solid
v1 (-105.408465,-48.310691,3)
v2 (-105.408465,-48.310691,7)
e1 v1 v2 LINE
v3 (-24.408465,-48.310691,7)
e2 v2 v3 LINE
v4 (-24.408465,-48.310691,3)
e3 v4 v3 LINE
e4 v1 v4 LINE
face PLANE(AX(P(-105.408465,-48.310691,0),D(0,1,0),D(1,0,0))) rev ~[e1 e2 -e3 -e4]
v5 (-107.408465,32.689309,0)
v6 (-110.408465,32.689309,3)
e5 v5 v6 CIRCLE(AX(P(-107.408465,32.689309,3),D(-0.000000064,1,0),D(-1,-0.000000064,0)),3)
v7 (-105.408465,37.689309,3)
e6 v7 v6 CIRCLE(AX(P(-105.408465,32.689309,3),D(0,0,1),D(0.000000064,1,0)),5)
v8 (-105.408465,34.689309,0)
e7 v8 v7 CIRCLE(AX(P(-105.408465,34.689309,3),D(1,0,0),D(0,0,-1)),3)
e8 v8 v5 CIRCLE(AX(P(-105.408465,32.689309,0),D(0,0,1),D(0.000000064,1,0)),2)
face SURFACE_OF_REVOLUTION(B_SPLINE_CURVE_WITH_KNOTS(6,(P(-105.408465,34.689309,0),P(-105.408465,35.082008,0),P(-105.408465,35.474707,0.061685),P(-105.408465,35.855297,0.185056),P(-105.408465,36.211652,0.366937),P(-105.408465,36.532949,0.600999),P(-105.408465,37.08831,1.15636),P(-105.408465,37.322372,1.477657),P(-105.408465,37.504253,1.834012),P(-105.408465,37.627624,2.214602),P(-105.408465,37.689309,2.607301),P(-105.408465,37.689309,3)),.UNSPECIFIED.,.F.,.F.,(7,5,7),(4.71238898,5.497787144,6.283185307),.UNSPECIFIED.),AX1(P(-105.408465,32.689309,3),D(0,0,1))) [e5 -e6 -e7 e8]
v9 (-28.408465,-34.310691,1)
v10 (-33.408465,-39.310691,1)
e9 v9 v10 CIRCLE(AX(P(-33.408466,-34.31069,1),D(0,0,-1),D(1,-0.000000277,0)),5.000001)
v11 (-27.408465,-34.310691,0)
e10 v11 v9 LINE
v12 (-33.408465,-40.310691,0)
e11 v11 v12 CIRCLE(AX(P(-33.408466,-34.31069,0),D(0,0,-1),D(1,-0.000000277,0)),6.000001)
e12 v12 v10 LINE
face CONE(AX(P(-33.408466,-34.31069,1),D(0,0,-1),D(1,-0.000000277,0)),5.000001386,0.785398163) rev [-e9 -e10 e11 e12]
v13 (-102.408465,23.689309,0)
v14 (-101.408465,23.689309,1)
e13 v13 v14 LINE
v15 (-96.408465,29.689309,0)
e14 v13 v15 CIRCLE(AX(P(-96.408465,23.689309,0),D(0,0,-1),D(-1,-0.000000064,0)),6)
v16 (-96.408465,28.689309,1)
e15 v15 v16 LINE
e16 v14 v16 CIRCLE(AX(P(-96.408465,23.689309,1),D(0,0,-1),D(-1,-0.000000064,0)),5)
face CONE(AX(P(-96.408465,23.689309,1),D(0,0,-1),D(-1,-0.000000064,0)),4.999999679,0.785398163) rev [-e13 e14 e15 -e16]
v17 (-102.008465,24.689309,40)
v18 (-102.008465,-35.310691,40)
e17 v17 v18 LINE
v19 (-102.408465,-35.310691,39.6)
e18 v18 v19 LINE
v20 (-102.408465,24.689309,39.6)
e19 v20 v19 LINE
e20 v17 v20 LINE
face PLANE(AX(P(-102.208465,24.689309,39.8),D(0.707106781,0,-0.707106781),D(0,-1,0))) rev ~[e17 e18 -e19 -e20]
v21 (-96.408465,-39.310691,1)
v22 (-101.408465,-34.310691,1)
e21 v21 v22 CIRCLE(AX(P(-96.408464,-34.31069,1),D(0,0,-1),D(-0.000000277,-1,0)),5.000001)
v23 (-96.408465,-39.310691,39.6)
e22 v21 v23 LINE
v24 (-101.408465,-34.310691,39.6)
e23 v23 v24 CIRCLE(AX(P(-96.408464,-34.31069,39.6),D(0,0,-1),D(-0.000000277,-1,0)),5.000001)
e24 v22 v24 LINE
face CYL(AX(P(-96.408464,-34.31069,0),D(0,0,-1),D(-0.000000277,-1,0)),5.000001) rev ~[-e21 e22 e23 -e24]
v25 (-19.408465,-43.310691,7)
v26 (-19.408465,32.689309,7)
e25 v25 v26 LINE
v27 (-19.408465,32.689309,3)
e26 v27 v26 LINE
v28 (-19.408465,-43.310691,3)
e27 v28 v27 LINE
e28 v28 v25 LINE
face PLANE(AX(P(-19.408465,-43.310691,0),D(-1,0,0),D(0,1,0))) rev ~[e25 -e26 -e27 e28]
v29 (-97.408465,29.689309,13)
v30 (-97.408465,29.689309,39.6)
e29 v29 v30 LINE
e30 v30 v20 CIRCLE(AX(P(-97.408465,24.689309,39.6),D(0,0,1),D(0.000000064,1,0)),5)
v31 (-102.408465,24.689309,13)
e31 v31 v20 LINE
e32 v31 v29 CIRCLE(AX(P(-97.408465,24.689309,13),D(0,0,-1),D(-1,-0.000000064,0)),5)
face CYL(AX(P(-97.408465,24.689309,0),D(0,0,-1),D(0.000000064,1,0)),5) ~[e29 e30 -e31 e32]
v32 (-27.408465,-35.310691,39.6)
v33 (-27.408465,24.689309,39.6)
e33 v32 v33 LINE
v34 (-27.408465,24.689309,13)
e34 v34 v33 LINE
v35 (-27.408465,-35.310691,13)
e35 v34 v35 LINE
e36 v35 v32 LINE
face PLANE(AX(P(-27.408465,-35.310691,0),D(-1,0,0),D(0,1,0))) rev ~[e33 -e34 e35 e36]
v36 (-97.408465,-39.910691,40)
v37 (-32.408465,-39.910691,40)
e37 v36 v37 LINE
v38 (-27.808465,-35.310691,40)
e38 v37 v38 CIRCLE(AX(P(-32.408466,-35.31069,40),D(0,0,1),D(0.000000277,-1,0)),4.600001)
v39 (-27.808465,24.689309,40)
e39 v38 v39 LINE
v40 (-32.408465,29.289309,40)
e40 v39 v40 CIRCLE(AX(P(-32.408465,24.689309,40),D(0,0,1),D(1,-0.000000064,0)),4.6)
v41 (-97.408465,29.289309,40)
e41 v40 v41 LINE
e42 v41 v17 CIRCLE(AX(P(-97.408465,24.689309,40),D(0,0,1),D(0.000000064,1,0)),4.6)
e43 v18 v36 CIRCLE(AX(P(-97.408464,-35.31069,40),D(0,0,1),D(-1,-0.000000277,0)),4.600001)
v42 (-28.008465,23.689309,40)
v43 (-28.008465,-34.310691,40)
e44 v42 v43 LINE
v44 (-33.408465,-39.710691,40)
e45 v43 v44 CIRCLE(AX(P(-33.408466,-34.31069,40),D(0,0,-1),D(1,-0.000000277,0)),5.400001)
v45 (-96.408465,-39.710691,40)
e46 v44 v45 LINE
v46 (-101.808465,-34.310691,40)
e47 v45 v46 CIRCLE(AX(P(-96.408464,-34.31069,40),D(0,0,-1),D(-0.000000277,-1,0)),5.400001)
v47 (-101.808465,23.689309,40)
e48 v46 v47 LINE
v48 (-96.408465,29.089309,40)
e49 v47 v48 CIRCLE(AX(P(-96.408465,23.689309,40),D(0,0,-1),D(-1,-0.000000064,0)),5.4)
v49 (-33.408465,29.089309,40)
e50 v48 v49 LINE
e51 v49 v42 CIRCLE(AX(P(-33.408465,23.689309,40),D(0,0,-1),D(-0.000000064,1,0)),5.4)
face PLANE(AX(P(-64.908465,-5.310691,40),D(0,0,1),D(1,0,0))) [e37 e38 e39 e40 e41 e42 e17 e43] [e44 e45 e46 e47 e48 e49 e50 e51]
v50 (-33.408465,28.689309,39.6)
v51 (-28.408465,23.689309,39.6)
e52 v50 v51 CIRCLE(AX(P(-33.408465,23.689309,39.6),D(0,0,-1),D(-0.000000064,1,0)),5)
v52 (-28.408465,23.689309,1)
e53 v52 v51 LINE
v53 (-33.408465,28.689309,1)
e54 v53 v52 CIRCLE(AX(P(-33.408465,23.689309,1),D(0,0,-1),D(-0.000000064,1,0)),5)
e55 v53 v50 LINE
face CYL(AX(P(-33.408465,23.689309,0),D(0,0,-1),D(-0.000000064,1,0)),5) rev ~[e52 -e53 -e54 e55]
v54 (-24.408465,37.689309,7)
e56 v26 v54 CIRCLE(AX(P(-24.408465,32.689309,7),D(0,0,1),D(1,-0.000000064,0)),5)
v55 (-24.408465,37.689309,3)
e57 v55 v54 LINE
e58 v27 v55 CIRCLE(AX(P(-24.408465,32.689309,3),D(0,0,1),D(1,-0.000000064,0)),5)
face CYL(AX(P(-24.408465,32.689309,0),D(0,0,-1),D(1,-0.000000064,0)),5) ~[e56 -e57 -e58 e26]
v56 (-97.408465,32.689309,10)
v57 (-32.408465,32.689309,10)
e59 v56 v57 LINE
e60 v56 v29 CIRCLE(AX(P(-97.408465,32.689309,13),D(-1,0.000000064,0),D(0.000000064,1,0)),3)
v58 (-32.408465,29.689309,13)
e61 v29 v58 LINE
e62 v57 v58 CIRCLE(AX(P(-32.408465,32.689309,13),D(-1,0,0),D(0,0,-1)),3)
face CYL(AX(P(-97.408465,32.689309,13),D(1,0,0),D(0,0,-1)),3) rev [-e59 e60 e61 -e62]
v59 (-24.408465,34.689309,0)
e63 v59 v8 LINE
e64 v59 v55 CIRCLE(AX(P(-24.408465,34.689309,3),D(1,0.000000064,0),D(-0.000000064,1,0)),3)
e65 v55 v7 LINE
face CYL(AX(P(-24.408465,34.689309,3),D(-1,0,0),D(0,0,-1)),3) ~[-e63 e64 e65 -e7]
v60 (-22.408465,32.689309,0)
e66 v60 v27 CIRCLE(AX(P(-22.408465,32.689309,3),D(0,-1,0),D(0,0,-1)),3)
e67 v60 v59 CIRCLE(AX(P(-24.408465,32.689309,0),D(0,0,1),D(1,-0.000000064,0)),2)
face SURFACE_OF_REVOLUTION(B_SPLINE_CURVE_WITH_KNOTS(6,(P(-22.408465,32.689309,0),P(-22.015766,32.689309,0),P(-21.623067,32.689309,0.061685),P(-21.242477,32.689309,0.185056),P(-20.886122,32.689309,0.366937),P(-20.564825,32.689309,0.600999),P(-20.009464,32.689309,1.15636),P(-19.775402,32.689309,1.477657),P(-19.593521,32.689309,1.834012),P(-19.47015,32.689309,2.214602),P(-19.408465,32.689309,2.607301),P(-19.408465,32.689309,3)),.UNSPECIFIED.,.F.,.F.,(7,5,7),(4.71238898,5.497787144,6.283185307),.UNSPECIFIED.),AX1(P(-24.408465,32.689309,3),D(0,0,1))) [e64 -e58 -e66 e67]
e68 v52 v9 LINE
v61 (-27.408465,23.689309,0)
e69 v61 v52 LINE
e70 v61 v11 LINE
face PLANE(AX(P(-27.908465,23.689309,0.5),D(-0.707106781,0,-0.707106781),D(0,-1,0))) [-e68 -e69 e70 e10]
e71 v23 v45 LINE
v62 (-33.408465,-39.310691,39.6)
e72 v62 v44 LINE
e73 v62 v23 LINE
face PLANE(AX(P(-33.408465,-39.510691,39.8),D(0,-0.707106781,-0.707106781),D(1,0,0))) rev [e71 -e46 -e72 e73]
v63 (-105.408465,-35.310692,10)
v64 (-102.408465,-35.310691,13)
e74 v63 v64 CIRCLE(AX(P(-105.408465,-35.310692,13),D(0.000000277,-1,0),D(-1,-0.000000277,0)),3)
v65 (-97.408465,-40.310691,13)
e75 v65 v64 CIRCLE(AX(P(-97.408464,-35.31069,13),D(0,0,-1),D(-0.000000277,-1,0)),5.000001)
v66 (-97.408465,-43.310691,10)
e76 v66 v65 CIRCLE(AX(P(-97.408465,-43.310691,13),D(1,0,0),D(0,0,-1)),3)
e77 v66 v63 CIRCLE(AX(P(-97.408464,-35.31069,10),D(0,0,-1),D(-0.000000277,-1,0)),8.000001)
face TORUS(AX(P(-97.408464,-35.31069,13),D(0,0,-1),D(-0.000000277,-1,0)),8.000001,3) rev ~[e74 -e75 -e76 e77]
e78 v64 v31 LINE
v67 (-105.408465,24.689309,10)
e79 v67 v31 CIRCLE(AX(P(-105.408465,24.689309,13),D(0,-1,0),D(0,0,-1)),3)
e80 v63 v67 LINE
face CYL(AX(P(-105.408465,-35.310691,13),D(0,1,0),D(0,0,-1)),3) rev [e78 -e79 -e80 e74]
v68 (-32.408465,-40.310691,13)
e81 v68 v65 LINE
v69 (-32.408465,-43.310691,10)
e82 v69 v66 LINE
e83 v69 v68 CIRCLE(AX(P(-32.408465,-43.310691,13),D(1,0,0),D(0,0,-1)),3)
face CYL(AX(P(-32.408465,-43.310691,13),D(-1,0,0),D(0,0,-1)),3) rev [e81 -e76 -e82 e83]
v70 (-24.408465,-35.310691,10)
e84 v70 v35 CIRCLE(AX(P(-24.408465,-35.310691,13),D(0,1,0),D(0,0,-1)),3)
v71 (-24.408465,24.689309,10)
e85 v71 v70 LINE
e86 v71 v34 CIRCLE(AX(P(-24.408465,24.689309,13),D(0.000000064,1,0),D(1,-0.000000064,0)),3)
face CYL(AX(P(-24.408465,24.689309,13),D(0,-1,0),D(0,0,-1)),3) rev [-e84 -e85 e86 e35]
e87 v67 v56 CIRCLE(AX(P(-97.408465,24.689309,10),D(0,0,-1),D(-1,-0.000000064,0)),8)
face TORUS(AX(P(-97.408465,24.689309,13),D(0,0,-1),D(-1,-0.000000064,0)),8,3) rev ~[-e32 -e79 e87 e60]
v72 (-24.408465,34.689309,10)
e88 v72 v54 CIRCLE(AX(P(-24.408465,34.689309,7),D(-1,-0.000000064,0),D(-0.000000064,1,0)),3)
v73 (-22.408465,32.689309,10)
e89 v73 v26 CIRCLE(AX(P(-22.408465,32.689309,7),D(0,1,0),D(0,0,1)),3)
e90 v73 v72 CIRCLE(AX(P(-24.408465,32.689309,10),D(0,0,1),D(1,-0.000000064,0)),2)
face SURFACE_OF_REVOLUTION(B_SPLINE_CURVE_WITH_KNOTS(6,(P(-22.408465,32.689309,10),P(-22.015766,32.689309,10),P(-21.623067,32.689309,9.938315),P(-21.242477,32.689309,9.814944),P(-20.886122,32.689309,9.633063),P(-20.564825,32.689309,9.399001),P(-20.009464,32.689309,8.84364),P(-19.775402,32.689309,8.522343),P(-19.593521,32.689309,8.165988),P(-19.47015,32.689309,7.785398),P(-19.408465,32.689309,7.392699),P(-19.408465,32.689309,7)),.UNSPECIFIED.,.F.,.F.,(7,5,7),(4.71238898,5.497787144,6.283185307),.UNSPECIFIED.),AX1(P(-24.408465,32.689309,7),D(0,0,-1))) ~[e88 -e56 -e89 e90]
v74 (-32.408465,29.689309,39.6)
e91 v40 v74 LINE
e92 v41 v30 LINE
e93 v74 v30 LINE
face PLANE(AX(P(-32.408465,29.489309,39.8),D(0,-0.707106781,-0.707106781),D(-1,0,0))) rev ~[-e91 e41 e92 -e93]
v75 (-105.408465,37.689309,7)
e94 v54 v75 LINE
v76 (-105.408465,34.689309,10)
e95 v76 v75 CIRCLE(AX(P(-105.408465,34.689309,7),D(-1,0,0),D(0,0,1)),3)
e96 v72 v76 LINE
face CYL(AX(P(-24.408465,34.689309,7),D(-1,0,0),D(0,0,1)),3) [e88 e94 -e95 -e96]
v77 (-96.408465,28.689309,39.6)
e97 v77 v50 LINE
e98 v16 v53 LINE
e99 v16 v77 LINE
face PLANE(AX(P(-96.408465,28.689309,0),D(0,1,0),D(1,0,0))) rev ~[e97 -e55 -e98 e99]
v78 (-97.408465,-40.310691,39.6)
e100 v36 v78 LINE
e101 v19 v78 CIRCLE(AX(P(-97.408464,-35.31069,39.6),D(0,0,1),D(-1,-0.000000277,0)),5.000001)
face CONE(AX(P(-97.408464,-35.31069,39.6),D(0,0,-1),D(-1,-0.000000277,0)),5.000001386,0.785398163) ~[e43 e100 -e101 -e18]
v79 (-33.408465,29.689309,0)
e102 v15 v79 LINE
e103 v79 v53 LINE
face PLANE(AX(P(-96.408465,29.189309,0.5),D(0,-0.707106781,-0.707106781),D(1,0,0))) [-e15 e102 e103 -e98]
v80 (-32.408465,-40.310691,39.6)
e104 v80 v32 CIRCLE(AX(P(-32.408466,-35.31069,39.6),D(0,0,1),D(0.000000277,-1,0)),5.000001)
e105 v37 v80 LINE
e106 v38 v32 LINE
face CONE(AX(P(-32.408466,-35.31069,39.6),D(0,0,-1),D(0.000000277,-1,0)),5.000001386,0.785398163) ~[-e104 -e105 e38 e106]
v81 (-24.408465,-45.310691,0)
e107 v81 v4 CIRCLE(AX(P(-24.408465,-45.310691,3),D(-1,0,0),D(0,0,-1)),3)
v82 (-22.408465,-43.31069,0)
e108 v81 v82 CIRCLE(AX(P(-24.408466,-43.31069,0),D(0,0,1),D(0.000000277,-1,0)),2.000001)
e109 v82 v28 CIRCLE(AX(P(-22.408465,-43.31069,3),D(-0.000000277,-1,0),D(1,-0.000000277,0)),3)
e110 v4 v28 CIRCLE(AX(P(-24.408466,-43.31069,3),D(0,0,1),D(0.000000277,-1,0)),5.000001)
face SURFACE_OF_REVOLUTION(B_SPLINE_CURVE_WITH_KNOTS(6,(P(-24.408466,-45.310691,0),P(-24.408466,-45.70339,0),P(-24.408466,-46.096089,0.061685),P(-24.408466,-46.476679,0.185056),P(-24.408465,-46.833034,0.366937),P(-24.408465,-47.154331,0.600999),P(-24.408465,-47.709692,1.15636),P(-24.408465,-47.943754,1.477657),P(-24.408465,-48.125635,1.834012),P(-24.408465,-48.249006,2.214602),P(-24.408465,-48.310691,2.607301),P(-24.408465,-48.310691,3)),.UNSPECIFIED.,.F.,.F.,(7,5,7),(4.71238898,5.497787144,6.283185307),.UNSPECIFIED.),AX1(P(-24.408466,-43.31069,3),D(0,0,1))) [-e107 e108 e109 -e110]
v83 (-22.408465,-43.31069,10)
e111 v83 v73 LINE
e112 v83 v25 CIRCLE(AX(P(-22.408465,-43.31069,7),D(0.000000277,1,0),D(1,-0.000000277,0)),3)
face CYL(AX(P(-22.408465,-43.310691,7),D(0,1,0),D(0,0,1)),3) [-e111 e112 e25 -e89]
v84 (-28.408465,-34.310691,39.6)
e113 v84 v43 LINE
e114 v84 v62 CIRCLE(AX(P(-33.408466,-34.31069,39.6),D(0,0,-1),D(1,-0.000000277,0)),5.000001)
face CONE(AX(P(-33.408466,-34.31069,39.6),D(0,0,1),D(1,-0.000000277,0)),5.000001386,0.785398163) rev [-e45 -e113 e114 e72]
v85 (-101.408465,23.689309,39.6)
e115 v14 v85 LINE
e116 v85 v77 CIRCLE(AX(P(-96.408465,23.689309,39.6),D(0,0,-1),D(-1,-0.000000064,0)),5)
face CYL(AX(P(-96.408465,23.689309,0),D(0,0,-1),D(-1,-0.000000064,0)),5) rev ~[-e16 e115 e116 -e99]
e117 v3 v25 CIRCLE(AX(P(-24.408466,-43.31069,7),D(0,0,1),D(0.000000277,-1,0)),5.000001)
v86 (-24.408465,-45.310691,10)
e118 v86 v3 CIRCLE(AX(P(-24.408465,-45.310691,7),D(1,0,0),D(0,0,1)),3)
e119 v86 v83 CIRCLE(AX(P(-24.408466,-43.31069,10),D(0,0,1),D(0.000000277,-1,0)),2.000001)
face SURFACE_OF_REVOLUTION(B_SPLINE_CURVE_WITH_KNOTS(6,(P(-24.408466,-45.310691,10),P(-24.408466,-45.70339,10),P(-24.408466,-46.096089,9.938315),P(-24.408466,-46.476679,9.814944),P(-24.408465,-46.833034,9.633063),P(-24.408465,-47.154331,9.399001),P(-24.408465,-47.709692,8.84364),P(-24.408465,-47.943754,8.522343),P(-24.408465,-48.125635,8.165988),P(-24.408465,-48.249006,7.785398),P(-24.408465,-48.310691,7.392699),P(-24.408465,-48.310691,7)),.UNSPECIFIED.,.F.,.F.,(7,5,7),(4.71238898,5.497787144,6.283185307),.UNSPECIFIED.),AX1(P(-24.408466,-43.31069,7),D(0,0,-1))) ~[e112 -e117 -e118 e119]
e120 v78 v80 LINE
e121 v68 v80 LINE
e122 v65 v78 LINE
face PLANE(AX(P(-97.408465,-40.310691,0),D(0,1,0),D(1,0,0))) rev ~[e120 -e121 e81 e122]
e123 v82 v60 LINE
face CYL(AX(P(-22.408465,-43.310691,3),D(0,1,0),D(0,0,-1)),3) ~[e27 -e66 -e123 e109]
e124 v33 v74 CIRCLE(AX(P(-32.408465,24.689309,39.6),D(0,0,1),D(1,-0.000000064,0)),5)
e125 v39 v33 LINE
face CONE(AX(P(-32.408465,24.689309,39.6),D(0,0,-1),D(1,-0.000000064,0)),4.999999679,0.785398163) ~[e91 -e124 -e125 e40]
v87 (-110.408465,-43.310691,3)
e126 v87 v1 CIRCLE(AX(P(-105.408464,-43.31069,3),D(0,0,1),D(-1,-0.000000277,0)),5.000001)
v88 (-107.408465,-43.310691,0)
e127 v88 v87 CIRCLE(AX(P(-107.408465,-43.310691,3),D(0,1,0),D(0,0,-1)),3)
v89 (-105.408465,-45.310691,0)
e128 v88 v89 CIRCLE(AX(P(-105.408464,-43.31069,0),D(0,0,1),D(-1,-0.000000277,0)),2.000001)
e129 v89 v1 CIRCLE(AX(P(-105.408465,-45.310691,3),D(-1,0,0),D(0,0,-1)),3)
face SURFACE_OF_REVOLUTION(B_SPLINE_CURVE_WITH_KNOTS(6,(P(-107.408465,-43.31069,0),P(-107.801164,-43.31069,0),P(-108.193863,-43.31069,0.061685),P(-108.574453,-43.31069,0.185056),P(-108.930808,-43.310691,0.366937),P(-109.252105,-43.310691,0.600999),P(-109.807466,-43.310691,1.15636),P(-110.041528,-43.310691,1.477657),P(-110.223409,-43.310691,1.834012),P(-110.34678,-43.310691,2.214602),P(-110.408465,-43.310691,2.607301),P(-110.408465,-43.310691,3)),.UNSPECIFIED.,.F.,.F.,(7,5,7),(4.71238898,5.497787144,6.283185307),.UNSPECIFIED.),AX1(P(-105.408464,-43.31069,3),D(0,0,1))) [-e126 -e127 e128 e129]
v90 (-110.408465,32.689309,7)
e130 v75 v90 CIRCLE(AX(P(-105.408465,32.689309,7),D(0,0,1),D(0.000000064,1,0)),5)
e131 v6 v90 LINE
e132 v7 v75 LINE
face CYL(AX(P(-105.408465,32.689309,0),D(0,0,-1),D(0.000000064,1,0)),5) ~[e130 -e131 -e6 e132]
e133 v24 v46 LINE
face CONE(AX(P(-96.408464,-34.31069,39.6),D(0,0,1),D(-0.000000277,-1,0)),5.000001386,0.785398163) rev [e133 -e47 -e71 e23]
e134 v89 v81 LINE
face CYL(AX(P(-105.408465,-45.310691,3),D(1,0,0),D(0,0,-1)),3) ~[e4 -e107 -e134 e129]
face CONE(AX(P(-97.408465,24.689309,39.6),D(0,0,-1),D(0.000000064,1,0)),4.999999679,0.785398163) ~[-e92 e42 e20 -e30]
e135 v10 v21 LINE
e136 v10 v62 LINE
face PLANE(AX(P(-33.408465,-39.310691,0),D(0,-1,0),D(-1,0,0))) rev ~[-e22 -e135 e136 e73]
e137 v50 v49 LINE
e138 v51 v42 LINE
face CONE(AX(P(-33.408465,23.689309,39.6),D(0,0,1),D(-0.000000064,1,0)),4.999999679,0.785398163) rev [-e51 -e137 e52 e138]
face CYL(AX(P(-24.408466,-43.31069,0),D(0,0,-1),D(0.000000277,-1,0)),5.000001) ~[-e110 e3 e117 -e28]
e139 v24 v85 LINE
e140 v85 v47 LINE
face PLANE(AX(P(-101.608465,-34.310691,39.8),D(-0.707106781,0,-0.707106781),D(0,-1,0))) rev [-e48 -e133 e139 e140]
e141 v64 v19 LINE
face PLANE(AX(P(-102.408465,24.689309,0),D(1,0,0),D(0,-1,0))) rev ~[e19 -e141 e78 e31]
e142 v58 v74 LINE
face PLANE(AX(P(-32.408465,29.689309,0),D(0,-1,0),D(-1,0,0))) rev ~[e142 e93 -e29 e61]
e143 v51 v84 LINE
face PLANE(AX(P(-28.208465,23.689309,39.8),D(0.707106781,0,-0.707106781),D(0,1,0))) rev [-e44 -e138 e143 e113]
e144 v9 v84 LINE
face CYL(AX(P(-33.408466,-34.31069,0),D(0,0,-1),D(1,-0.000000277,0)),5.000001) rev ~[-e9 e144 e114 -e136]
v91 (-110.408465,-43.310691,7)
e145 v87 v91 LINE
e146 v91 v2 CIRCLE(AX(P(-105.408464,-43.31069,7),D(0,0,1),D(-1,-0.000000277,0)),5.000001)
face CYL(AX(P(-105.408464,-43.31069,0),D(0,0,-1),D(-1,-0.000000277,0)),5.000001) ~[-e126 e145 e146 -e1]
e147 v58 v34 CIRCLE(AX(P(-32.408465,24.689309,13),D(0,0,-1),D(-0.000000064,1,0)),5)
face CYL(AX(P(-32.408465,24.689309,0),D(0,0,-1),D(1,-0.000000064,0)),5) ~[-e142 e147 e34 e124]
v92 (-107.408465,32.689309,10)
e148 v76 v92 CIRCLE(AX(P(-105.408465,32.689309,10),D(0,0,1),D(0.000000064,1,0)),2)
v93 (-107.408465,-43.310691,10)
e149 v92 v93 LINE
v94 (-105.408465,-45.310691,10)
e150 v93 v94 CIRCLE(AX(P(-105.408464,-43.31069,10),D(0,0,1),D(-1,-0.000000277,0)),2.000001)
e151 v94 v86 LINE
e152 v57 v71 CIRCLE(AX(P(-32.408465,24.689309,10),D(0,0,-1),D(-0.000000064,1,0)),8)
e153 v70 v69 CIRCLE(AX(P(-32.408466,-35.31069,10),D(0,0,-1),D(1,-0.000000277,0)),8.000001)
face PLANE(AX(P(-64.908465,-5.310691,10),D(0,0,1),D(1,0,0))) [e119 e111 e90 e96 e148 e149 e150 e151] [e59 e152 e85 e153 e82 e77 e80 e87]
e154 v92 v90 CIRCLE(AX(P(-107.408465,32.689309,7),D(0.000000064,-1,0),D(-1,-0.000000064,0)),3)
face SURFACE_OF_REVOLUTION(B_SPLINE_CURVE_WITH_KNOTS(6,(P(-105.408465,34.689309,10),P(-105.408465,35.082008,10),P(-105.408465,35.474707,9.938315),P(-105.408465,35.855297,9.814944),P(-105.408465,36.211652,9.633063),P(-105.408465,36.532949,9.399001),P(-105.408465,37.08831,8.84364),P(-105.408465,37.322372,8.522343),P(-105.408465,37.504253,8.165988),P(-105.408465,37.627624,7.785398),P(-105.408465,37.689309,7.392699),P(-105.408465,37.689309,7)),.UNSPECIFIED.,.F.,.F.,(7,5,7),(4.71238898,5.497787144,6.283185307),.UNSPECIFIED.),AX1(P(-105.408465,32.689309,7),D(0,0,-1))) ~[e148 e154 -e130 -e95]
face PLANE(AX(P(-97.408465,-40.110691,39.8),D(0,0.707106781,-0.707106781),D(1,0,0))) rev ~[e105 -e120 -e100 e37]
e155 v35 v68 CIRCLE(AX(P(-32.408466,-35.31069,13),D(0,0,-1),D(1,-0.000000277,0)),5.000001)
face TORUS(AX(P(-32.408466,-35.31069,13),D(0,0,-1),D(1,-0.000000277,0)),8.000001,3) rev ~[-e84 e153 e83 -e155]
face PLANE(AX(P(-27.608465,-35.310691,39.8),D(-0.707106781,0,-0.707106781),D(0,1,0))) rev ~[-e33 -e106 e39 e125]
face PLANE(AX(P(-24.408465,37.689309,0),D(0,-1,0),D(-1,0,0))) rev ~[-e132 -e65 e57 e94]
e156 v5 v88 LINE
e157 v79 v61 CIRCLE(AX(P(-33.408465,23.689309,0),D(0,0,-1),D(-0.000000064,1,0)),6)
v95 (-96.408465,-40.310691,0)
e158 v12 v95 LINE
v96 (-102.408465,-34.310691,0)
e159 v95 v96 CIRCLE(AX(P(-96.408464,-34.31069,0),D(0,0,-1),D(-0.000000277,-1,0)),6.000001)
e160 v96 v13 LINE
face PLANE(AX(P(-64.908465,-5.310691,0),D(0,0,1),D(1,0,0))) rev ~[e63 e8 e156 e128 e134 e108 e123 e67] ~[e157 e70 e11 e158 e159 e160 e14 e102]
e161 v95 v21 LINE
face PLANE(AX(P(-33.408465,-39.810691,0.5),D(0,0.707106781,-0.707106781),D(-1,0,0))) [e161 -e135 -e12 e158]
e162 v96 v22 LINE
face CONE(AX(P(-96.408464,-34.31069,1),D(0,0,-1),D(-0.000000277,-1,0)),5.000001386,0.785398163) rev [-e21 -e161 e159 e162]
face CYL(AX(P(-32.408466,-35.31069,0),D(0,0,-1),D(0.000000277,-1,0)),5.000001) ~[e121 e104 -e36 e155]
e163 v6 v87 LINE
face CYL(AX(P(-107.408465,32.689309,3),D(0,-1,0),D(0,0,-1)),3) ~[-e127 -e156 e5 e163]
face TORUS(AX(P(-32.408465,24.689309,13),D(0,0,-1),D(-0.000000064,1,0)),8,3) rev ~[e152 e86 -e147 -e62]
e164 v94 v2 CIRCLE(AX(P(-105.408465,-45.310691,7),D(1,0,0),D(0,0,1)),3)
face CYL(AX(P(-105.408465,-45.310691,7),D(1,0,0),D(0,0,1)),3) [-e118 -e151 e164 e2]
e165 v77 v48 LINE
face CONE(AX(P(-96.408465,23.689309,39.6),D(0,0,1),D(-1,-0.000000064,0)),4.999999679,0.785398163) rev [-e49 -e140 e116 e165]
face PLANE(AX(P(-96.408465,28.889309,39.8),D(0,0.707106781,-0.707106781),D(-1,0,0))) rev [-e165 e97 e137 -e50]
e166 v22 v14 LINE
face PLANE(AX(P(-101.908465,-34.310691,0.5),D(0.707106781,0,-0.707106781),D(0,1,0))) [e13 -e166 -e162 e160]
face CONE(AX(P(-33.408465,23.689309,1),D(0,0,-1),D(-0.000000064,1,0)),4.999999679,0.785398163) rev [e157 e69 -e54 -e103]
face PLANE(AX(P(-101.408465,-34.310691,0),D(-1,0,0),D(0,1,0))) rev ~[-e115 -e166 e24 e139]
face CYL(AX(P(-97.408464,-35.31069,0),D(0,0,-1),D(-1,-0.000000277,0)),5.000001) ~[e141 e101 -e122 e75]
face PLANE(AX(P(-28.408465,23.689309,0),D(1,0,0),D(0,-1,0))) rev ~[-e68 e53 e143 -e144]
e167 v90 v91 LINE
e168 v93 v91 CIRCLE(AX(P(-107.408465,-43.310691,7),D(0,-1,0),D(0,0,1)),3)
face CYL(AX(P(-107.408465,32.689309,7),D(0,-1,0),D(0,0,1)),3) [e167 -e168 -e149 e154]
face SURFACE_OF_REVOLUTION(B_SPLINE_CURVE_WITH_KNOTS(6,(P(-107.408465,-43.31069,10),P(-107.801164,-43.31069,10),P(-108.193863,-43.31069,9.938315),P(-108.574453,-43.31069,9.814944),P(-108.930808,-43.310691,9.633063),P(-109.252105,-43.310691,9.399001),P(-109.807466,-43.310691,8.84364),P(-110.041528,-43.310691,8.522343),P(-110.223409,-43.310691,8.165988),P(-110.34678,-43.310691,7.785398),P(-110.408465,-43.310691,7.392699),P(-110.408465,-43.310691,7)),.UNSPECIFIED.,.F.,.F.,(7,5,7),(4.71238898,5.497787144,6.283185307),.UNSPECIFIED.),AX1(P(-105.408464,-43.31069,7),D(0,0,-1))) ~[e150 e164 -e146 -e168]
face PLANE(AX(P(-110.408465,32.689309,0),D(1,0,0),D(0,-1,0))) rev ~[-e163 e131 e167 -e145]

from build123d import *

# Parameters (mm, degrees)
F1_DEPTH = 40
F2_DEPTH = 10
F3_R     = 3
F4_SIZE  = 0.4
F5_SIZE  = 1


with BuildPart() as f1:
    # F0 (on Top) → F1 (new body)
    with BuildSketch(Plane.XY):
        with BuildLine():
            Line((-32.408465, 29.689309), (-97.408465, 29.689309))
            ThreePointArc((-97.408465, 29.689309), (-100.943999, 28.224843), (-102.408465, 24.689309))
            Line((-102.408465, 24.689309), (-102.408465, -35.310691))
            ThreePointArc((-102.408465, -35.310691), (-100.943999, -38.846224), (-97.408465, -40.310691))
            Line((-97.408465, -40.310691), (-32.408465, -40.310691))
            ThreePointArc((-32.408465, -40.310691), (-28.872931, -38.846224), (-27.408465, -35.310691))
            Line((-27.408465, -35.310691), (-27.408465, 24.689309))
            ThreePointArc((-27.408465, 24.689309), (-28.872931, 28.224843), (-32.408465, 29.689309))
        make_face()
        with BuildLine():
            Line((-101.408465, -34.310691), (-101.408465, 23.689309))
            ThreePointArc((-101.408465, 23.689309), (-99.943999, 27.224843), (-96.408465, 28.689309))
            Line((-96.408465, 28.689309), (-33.408465, 28.689309))
            ThreePointArc((-33.408465, 28.689309), (-29.872931, 27.224843), (-28.408465, 23.689309))
            Line((-28.408465, 23.689309), (-28.408465, -34.310691))
            ThreePointArc((-28.408465, -34.310691), (-29.872931, -37.846224), (-33.408465, -39.310691))
            Line((-33.408465, -39.310691), (-96.408465, -39.310691))
            ThreePointArc((-96.408465, -39.310691), (-99.943999, -37.846224), (-101.408465, -34.310691))
        make_face(mode=Mode.SUBTRACT)
    extrude(amount=F1_DEPTH)

    # F0 (on Top) → F2 (join)
    with BuildSketch(Plane.XY):
        with BuildLine():
            Line((-24.408465, 37.689309), (-105.408465, 37.689309))
            ThreePointArc((-105.408465, 37.689309), (-108.943999, 36.224843), (-110.408465, 32.689309))
            Line((-110.408465, 32.689309), (-110.408465, -43.310691))
            ThreePointArc((-110.408465, -43.310691), (-108.943999, -46.846224), (-105.408465, -48.310691))
            Line((-105.408465, -48.310691), (-24.408465, -48.310691))
            ThreePointArc((-24.408465, -48.310691), (-20.872931, -46.846224), (-19.408465, -43.310691))
            Line((-19.408465, -43.310691), (-19.408465, 32.689309))
            ThreePointArc((-19.408465, 32.689309), (-20.872931, 36.224843), (-24.408465, 37.689309))
        make_face()
        with BuildLine():
            Line((-105.408465, -38.310691), (-105.408465, 27.689309))
            ThreePointArc((-105.408465, 27.689309), (-103.943999, 31.224843), (-100.408465, 32.689309))
            Line((-100.408465, 32.689309), (-29.408465, 32.689309))
            ThreePointArc((-29.408465, 32.689309), (-25.872931, 31.224843), (-24.408465, 27.689309))
            Line((-24.408465, 27.689309), (-24.408465, -38.310691))
            ThreePointArc((-24.408465, -38.310691), (-25.872931, -41.846224), (-29.408465, -43.310691))
            Line((-29.408465, -43.310691), (-100.408465, -43.310691))
            ThreePointArc((-100.408465, -43.310691), (-103.943999, -41.846224), (-105.408465, -38.310691))
        make_face(mode=Mode.SUBTRACT)
        with BuildLine():
            ThreePointArc((-100.408465, 32.689309), (-103.943999, 31.224843), (-105.408465, 27.689309))
            Line((-105.408465, 27.689309), (-105.408465, -38.310691))
            ThreePointArc((-105.408465, -38.310691), (-103.943999, -41.846224), (-100.408465, -43.310691))
            Line((-100.408465, -43.310691), (-29.408465, -43.310691))
            ThreePointArc((-29.408465, -43.310691), (-25.872931, -41.846224), (-24.408465, -38.310691))
            Line((-24.408465, -38.310691), (-24.408465, 27.689309))
            ThreePointArc((-24.408465, 27.689309), (-25.872931, 31.224843), (-29.408465, 32.689309))
            Line((-29.408465, 32.689309), (-100.408465, 32.689309))
        make_face()
        with BuildLine():
            ThreePointArc((-102.408465, 24.689309), (-100.943999, 28.224843), (-97.408465, 29.689309))
            Line((-97.408465, 29.689309), (-32.408465, 29.689309))
            ThreePointArc((-32.408465, 29.689309), (-28.872931, 28.224843), (-27.408465, 24.689309))
            Line((-27.408465, 24.689309), (-27.408465, -35.310691))
            ThreePointArc((-27.408465, -35.310691), (-28.872931, -38.846224), (-32.408465, -40.310691))
            Line((-32.408465, -40.310691), (-97.408465, -40.310691))
            ThreePointArc((-97.408465, -40.310691), (-100.943999, -38.846224), (-102.408465, -35.310691))
            Line((-102.408465, -35.310691), (-102.408465, 24.689309))
        make_face(mode=Mode.SUBTRACT)
    extrude(amount=F2_DEPTH)

    # F3
    f3_edges = [f1.edges().sort_by_distance(p)[0] for p in [
        (-64.908465, -40.310691, 10),
        (-64.908465, -48.310691, 10),
        (-64.908465, -48.310691, 0),
    ]]
    fillet(f3_edges, radius=F3_R)

    # F4
    f4_edges = [f1.edges().sort_by_distance(p)[0] for p in [
        (-64.908465, -40.310691, 40),
        (-64.908465, -39.310691, 40),
    ]]
    chamfer(f4_edges, length=F4_SIZE)

    # F5
    f5_edges = [f1.edges().sort_by_distance(p)[0] for p in [
        (-101.408465, -5.310691, 0),
    ]]
    chamfer(f5_edges, length=F5_SIZE)


solid = f1.part
